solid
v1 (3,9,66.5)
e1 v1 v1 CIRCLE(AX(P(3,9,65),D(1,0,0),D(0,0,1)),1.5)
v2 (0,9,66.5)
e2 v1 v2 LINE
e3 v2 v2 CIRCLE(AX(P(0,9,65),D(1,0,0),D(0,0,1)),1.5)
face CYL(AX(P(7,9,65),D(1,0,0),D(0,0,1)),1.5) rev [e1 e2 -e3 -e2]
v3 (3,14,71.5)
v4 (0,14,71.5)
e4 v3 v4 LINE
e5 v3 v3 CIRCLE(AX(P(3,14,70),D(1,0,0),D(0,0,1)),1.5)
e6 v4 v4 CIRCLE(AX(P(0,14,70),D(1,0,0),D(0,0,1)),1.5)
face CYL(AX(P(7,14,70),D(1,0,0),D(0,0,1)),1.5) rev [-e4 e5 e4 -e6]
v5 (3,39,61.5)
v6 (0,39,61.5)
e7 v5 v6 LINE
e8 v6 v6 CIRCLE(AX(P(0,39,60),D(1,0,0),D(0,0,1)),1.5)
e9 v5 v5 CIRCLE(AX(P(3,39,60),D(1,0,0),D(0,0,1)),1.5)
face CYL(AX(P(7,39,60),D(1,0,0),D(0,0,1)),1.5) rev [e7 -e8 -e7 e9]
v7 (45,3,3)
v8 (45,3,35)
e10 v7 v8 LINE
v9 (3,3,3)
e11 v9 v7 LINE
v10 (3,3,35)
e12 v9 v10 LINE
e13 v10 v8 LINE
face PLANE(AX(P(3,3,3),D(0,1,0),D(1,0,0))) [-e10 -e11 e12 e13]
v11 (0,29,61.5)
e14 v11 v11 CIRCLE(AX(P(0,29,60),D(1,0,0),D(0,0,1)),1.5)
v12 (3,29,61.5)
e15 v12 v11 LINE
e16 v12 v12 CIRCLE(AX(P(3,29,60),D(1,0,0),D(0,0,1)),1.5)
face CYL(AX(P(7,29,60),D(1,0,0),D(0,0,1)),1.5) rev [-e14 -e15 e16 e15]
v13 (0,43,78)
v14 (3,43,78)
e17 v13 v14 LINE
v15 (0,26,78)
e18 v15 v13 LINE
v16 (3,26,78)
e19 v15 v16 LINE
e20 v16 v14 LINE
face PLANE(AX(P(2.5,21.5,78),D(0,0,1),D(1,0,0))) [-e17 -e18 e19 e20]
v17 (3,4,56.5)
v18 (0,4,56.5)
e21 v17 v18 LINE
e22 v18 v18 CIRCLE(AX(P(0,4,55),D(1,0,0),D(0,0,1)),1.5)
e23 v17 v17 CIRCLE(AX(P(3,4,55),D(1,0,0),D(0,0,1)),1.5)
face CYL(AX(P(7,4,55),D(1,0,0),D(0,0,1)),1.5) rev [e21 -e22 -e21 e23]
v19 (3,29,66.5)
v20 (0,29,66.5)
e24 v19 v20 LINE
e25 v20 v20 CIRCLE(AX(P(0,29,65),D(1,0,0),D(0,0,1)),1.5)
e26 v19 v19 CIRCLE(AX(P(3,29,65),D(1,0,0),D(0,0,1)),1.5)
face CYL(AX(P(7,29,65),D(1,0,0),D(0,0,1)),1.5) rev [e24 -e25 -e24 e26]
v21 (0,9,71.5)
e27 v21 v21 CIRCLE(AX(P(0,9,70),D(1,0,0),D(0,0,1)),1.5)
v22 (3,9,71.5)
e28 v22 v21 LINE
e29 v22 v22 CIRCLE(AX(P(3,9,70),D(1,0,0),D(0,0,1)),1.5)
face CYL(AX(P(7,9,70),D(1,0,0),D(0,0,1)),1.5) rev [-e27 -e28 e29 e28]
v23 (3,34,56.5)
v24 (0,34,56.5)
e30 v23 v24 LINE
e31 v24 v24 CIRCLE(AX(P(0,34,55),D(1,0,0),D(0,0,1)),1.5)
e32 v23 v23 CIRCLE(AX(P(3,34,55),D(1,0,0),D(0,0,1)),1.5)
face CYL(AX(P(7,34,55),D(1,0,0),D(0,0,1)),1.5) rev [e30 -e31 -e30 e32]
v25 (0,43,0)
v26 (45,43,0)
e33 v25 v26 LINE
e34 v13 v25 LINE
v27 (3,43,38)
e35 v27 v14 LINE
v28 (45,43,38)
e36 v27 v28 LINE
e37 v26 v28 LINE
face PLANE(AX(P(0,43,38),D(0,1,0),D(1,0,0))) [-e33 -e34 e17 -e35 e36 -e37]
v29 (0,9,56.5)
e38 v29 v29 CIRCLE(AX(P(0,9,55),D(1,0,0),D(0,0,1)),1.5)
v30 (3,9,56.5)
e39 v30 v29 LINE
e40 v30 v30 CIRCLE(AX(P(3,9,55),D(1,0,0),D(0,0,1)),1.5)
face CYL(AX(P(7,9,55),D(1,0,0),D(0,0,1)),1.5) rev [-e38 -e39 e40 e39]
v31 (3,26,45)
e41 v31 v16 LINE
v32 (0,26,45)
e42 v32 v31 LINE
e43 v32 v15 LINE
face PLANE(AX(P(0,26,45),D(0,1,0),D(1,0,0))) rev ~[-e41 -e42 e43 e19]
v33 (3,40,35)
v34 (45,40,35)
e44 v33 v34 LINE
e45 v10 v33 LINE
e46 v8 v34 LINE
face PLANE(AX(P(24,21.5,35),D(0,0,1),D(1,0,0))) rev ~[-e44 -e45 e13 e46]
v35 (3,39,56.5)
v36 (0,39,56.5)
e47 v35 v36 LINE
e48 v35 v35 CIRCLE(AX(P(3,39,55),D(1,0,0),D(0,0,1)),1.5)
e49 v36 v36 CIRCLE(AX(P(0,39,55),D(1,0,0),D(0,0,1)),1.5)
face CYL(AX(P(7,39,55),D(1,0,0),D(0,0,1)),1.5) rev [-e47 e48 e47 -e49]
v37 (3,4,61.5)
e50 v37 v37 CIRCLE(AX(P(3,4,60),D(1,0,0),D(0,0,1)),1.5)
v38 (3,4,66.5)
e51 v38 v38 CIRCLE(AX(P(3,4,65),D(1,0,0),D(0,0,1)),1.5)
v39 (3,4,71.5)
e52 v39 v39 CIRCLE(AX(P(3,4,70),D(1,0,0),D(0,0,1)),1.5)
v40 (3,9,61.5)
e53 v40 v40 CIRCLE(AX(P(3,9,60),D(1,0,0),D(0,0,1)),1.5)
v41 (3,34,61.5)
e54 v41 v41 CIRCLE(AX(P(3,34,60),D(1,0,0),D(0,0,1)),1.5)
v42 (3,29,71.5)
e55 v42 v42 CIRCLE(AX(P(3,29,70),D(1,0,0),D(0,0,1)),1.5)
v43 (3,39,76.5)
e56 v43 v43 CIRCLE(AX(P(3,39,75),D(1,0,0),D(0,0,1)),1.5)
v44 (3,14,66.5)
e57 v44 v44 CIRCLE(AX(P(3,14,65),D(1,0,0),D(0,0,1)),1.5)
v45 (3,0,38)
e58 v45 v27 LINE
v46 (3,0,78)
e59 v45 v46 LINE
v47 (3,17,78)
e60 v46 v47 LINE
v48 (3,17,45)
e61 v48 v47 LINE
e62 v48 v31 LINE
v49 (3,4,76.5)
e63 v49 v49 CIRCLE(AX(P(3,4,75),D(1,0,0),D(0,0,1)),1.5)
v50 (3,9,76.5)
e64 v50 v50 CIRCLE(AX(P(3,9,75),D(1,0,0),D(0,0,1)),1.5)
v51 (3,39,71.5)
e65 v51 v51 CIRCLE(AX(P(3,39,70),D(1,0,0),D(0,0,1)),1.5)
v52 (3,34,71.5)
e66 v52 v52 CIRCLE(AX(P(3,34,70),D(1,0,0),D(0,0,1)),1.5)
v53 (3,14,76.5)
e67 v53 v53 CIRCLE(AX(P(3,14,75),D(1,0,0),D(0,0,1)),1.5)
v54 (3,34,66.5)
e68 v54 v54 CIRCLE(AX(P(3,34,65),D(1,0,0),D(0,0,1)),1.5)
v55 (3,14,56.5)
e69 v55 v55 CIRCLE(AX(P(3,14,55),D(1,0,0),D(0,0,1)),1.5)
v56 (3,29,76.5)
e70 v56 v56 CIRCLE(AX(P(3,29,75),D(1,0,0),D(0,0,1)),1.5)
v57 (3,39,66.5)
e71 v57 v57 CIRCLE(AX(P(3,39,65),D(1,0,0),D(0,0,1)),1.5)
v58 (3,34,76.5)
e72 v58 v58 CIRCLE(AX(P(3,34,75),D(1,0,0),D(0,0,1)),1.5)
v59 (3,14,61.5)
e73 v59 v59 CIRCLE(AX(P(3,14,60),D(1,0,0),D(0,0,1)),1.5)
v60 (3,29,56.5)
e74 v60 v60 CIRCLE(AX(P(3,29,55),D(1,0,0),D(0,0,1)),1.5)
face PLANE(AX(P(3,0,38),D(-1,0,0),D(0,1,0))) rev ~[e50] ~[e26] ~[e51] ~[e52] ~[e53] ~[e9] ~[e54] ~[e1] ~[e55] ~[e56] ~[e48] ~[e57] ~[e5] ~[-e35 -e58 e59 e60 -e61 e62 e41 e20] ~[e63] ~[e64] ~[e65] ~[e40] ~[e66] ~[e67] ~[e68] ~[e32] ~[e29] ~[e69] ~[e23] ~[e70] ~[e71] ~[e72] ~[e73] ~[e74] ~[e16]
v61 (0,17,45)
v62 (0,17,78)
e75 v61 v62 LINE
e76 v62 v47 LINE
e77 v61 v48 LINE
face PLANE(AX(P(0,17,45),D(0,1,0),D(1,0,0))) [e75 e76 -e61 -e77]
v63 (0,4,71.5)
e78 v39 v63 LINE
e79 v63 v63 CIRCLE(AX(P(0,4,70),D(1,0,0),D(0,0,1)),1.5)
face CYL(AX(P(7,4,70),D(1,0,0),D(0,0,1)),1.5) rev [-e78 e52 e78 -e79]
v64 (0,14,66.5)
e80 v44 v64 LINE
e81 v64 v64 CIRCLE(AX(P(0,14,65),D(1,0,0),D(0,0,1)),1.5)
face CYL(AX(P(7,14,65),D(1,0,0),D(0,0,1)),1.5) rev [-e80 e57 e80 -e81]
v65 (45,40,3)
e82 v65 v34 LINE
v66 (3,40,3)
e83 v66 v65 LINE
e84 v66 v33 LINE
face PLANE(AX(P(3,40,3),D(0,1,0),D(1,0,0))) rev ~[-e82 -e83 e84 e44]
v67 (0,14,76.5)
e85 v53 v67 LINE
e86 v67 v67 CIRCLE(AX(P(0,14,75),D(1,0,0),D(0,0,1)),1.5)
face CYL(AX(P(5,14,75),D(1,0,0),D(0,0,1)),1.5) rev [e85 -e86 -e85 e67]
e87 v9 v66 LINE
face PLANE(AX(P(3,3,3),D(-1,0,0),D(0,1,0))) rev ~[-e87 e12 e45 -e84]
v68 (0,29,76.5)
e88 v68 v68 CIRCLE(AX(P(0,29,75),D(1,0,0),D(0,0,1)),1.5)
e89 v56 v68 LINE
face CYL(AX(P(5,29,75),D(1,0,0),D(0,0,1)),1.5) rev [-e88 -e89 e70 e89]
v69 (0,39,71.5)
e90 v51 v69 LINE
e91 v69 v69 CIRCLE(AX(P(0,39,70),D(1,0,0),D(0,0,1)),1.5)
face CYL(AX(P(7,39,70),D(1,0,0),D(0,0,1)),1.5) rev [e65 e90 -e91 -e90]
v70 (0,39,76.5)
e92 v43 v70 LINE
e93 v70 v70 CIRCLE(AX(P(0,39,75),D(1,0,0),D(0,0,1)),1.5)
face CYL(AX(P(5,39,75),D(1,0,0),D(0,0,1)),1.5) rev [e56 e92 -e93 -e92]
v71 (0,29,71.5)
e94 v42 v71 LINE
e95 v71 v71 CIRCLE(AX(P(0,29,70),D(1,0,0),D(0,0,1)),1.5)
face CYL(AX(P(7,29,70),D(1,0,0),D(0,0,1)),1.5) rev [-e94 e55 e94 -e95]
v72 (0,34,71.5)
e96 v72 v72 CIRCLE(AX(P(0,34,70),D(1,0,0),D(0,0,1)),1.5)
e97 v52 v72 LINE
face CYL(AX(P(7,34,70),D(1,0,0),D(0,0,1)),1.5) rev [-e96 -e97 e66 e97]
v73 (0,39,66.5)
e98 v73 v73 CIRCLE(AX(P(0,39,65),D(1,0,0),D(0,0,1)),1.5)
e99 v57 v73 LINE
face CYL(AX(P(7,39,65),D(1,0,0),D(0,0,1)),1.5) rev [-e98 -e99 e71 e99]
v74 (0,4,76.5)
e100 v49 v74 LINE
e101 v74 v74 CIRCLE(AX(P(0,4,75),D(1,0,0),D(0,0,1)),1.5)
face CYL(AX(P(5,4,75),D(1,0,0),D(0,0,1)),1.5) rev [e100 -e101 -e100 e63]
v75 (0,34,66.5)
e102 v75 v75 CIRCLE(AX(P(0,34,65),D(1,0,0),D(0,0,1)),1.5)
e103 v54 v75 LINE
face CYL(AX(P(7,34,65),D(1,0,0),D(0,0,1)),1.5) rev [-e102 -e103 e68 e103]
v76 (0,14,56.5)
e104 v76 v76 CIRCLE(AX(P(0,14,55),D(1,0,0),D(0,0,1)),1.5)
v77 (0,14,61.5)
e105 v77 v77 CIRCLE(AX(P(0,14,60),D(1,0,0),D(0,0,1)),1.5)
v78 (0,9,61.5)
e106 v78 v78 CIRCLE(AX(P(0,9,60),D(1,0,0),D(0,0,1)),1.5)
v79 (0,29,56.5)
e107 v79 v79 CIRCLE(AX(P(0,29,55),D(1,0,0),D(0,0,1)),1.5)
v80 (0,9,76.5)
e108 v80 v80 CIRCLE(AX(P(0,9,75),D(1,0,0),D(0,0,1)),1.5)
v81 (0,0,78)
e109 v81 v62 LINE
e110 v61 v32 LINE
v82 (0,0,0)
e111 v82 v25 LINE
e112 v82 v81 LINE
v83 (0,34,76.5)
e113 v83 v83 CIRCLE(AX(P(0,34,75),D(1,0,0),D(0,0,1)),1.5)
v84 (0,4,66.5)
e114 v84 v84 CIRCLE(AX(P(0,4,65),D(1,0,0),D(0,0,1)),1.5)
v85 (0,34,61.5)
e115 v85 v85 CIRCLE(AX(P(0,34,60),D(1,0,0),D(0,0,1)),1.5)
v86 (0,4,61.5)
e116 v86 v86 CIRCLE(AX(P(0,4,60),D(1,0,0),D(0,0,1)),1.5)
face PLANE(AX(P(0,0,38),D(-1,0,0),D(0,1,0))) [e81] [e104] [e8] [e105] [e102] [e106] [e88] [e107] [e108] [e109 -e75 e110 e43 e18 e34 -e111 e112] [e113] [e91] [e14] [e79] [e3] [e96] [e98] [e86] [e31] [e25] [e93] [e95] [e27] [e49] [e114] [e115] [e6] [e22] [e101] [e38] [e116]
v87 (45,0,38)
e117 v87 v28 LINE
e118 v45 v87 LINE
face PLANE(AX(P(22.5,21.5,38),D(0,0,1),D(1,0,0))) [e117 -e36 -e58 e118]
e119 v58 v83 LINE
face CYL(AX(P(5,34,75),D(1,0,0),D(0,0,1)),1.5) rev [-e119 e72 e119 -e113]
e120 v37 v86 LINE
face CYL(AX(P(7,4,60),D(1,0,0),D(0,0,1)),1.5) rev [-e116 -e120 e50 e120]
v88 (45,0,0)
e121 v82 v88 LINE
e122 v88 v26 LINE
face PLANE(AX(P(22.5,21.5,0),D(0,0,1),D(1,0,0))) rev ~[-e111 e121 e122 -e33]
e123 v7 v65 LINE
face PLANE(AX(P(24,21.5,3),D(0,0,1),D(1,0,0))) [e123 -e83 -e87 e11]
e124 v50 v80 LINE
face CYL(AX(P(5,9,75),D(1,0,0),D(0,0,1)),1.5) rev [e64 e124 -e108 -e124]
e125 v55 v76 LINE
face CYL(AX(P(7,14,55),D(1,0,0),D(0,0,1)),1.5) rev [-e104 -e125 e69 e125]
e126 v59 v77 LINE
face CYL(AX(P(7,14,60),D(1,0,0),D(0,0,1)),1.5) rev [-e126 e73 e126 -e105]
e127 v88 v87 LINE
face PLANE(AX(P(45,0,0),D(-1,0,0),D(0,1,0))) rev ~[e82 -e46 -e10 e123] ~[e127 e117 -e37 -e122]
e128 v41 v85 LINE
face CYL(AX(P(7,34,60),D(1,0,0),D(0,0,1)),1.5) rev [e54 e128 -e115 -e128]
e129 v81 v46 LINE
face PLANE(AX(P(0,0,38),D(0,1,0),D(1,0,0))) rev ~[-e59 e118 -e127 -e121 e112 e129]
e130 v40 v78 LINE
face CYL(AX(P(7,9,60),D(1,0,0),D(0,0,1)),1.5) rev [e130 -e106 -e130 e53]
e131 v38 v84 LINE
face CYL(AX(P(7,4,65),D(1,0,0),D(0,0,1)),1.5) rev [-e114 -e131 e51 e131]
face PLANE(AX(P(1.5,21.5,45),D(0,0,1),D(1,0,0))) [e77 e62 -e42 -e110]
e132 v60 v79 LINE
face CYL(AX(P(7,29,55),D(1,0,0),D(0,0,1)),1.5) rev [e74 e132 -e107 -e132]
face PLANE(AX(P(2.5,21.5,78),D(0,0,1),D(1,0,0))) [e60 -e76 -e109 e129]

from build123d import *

# Parameters (mm, degrees)
BOX004_W                = 3
BOX004_H                = 9
BOX004_DEPTH            = 33
CYLINDER034_R           = 1.5
CYLINDER034_DEPTH       = 10
CYLINDER034_PITCH_ANGLE = -90
CYLINDER035_R           = 1.5
CYLINDER035_DEPTH       = 10
CYLINDER035_PITCH_ANGLE = -90
CYLINDER036_R           = 1.5
CYLINDER036_DEPTH       = 10
CYLINDER036_PITCH_ANGLE = -90
CYLINDER037_R           = 1.5
CYLINDER037_DEPTH       = 10
CYLINDER037_PITCH_ANGLE = -90
CYLINDER038_R           = 1.5
CYLINDER038_DEPTH       = 10
CYLINDER038_PITCH_ANGLE = -90
CYLINDER039_R           = 1.5
CYLINDER039_DEPTH       = 10
CYLINDER039_PITCH_ANGLE = -90
CYLINDER040_R           = 1.5
CYLINDER040_DEPTH       = 10
CYLINDER040_PITCH_ANGLE = -90
CYLINDER033_R           = 1.5
CYLINDER033_DEPTH       = 10
CYLINDER033_PITCH_ANGLE = -90
BOX003_W                = 2
BOX003_H                = 43
BOX003_DEPTH            = 40
CYLINDER031_R           = 1.5
CYLINDER031_DEPTH       = 10
CYLINDER031_PITCH_ANGLE = -90
CYLINDER032_R           = 1.5
CYLINDER032_DEPTH       = 10
CYLINDER032_PITCH_ANGLE = -90
CYLINDER001_R           = 1.5
CYLINDER001_DEPTH       = 10
CYLINDER001_PITCH_ANGLE = -90
CYLINDER002_R           = 1.5
CYLINDER002_DEPTH       = 10
CYLINDER002_PITCH_ANGLE = -90
CYLINDER003_R           = 1.5
CYLINDER003_DEPTH       = 10
CYLINDER003_PITCH_ANGLE = -90
CYLINDER004_R           = 1.5
CYLINDER004_DEPTH       = 10
CYLINDER004_PITCH_ANGLE = -90
CYLINDER005_R           = 1.5
CYLINDER005_DEPTH       = 10
CYLINDER005_PITCH_ANGLE = -90
CYLINDER006_R           = 1.5
CYLINDER006_DEPTH       = 10
CYLINDER006_PITCH_ANGLE = -90
CYLINDER007_R           = 1.5
CYLINDER007_DEPTH       = 10
CYLINDER007_PITCH_ANGLE = -90
CYLINDER008_R           = 1.5
CYLINDER008_DEPTH       = 10
CYLINDER008_PITCH_ANGLE = -90
CYLINDER009_R           = 1.5
CYLINDER009_DEPTH       = 10
CYLINDER009_PITCH_ANGLE = -90
CYLINDER010_R           = 1.5
CYLINDER010_DEPTH       = 10
CYLINDER010_PITCH_ANGLE = -90
CYLINDER011_R           = 1.5
CYLINDER011_DEPTH       = 10
CYLINDER011_PITCH_ANGLE = -90
CYLINDER012_R           = 1.5
CYLINDER012_DEPTH       = 10
CYLINDER012_PITCH_ANGLE = -90
CYLINDER013_R           = 1.5
CYLINDER013_DEPTH       = 10
CYLINDER013_PITCH_ANGLE = -90
CYLINDER017_R           = 1.5
CYLINDER017_DEPTH       = 10
CYLINDER017_PITCH_ANGLE = -90
CYLINDER018_R           = 1.5
CYLINDER018_DEPTH       = 10
CYLINDER018_PITCH_ANGLE = -90
CYLINDER019_R           = 1.5
CYLINDER019_DEPTH       = 10
CYLINDER019_PITCH_ANGLE = -90
CYLINDER020_R           = 1.5
CYLINDER020_DEPTH       = 10
CYLINDER020_PITCH_ANGLE = -90
CYLINDER021_R           = 1.5
CYLINDER021_DEPTH       = 10
CYLINDER021_PITCH_ANGLE = -90
CYLINDER022_R           = 1.5
CYLINDER022_DEPTH       = 10
CYLINDER022_PITCH_ANGLE = -90
CYLINDER023_R           = 1.5
CYLINDER023_DEPTH       = 10
CYLINDER023_PITCH_ANGLE = -90
CYLINDER024_R           = 1.5
CYLINDER024_DEPTH       = 10
CYLINDER024_PITCH_ANGLE = -90
CYLINDER025_R           = 1.5
CYLINDER025_DEPTH       = 10
CYLINDER025_PITCH_ANGLE = -90
CYLINDER026_R           = 1.5
CYLINDER026_DEPTH       = 10
CYLINDER026_PITCH_ANGLE = -90
CYLINDER027_R           = 1.5
CYLINDER027_DEPTH       = 10
CYLINDER027_PITCH_ANGLE = -90
CYLINDER028_R           = 1.5
CYLINDER028_DEPTH       = 10
CYLINDER028_PITCH_ANGLE = -90
CYLINDER029_R           = 1.5
CYLINDER029_DEPTH       = 10
CYLINDER029_PITCH_ANGLE = -90
CYLINDER030_R           = 1.5
CYLINDER030_DEPTH       = 10
CYLINDER030_PITCH_ANGLE = -90
CYLINDER014_R           = 1.5
CYLINDER014_DEPTH       = 10
CYLINDER014_PITCH_ANGLE = -90
CYLINDER015_R           = 1.5
CYLINDER015_DEPTH       = 10
CYLINDER015_PITCH_ANGLE = -90
CYLINDER016_R           = 1.5
CYLINDER016_DEPTH       = 10
CYLINDER016_PITCH_ANGLE = -90
CYLINDER_R              = 1.5
CYLINDER_DEPTH          = 10
CYLINDER_PITCH_ANGLE    = -90
BOX002_W                = 5
BOX002_H                = 43
BOX002_DEPTH            = 40
BOX_W                   = 42
BOX_H                   = 37
BOX_DEPTH               = 32
BOX001_W                = 45
BOX001_H                = 43
BOX001_DEPTH            = 38


with BuildPart() as cube004:
    # Box004 → Box004 (new body)
    with BuildSketch(Plane(origin=(0, 17, 45), x_dir=(1, 0, 0), z_dir=(0, 0, 1))):
        with Locations((1.5, 4.5)):
            Rectangle(BOX004_W, BOX004_H)
    extrude(amount=BOX004_DEPTH)


with BuildPart() as cylinder034:
    # Cylinder034 → Cylinder034 (new body)
    with BuildSketch(Plane.XY):
        Circle(CYLINDER034_R)
    extrude(amount=CYLINDER034_DEPTH)


with BuildPart() as cylinder034_1:
    # Cylinder034 pitch: moved
    add(cylinder034.part.rotate(Axis((0, 0, 0), (0, 1, 0)), CYLINDER034_PITCH_ANGLE))


with BuildPart() as cylinder034_2:
    # Cylinder034 placement: moved
    add(cylinder034_1.part.moved(Location((5, 9, 75))))


with BuildPart() as cylinder035:
    # Cylinder035 → Cylinder035 (new body)
    with BuildSketch(Plane.XY):
        Circle(CYLINDER035_R)
    extrude(amount=CYLINDER035_DEPTH)


with BuildPart() as cylinder035_1:
    # Cylinder035 pitch: moved
    add(cylinder035.part.rotate(Axis((0, 0, 0), (0, 1, 0)), CYLINDER035_PITCH_ANGLE))


with BuildPart() as cylinder035_2:
    # Cylinder035 placement: moved
    add(cylinder035_1.part.moved(Location((5, 14, 75))))


with BuildPart() as cylinder036:
    # Cylinder036 → Cylinder036 (new body)
    with BuildSketch(Plane.XY):
        Circle(CYLINDER036_R)
    extrude(amount=CYLINDER036_DEPTH)


with BuildPart() as cylinder036_1:
    # Cylinder036 pitch: moved
    add(cylinder036.part.rotate(Axis((0, 0, 0), (0, 1, 0)), CYLINDER036_PITCH_ANGLE))


with BuildPart() as cylinder036_2:
    # Cylinder036 placement: moved
    add(cylinder036_1.part.moved(Location((5, 19, 75))))


with BuildPart() as cylinder037:
    # Cylinder037 → Cylinder037 (new body)
    with BuildSketch(Plane.XY):
        Circle(CYLINDER037_R)
    extrude(amount=CYLINDER037_DEPTH)


with BuildPart() as cylinder037_1:
    # Cylinder037 pitch: moved
    add(cylinder037.part.rotate(Axis((0, 0, 0), (0, 1, 0)), CYLINDER037_PITCH_ANGLE))


with BuildPart() as cylinder037_2:
    # Cylinder037 placement: moved
    add(cylinder037_1.part.moved(Location((5, 24, 75))))


with BuildPart() as cylinder038:
    # Cylinder038 → Cylinder038 (new body)
    with BuildSketch(Plane.XY):
        Circle(CYLINDER038_R)
    extrude(amount=CYLINDER038_DEPTH)


with BuildPart() as cylinder038_1:
    # Cylinder038 pitch: moved
    add(cylinder038.part.rotate(Axis((0, 0, 0), (0, 1, 0)), CYLINDER038_PITCH_ANGLE))


with BuildPart() as cylinder038_2:
    # Cylinder038 placement: moved
    add(cylinder038_1.part.moved(Location((5, 29, 75))))


with BuildPart() as cylinder039:
    # Cylinder039 → Cylinder039 (new body)
    with BuildSketch(Plane.XY):
        Circle(CYLINDER039_R)
    extrude(amount=CYLINDER039_DEPTH)


with BuildPart() as cylinder039_1:
    # Cylinder039 pitch: moved
    add(cylinder039.part.rotate(Axis((0, 0, 0), (0, 1, 0)), CYLINDER039_PITCH_ANGLE))


with BuildPart() as cylinder039_2:
    # Cylinder039 placement: moved
    add(cylinder039_1.part.moved(Location((5, 34, 75))))


with BuildPart() as cylinder040:
    # Cylinder040 → Cylinder040 (new body)
    with BuildSketch(Plane.XY):
        Circle(CYLINDER040_R)
    extrude(amount=CYLINDER040_DEPTH)


with BuildPart() as cylinder040_1:
    # Cylinder040 pitch: moved
    add(cylinder040.part.rotate(Axis((0, 0, 0), (0, 1, 0)), CYLINDER040_PITCH_ANGLE))


with BuildPart() as cylinder040_2:
    # Cylinder040 placement: moved
    add(cylinder040_1.part.moved(Location((5, 39, 75))))


with BuildPart() as cylinder033:
    # Cylinder033 → Cylinder033 (new body)
    with BuildSketch(Plane.XY):
        Circle(CYLINDER033_R)
    extrude(amount=CYLINDER033_DEPTH)


with BuildPart() as cylinder033_1:
    # Cylinder033 pitch: moved
    add(cylinder033.part.rotate(Axis((0, 0, 0), (0, 1, 0)), CYLINDER033_PITCH_ANGLE))


with BuildPart() as cylinder033_2:
    # Cylinder033 placement: moved
    add(cylinder033_1.part.moved(Location((5, 4, 75))))


with BuildPart() as cube003:
    # Box003 → Box003 (new body)
    with BuildSketch(Plane(origin=(3, 0, 38), x_dir=(1, 0, 0), z_dir=(0, 0, 1))):
        with Locations((1, 21.5)):
            Rectangle(BOX003_W, BOX003_H)
    extrude(amount=BOX003_DEPTH)


with BuildPart() as cylinder031:
    # Cylinder031 → Cylinder031 (new body)
    with BuildSketch(Plane.XY):
        Circle(CYLINDER031_R)
    extrude(amount=CYLINDER031_DEPTH)


with BuildPart() as cylinder031_1:
    # Cylinder031 pitch: moved
    add(cylinder031.part.rotate(Axis((0, 0, 0), (0, 1, 0)), CYLINDER031_PITCH_ANGLE))


with BuildPart() as cylinder031_2:
    # Cylinder031 placement: moved
    add(cylinder031_1.part.moved(Location((7, 14, 70))))


with BuildPart() as cylinder032:
    # Cylinder032 → Cylinder032 (new body)
    with BuildSketch(Plane.XY):
        Circle(CYLINDER032_R)
    extrude(amount=CYLINDER032_DEPTH)


with BuildPart() as cylinder032_1:
    # Cylinder032 pitch: moved
    add(cylinder032.part.rotate(Axis((0, 0, 0), (0, 1, 0)), CYLINDER032_PITCH_ANGLE))


with BuildPart() as cylinder032_2:
    # Cylinder032 placement: moved
    add(cylinder032_1.part.moved(Location((7, 9, 55))))


with BuildPart() as cylinder001:
    # Cylinder001 → Cylinder001 (new body)
    with BuildSketch(Plane.XY):
        Circle(CYLINDER001_R)
    extrude(amount=CYLINDER001_DEPTH)


with BuildPart() as cylinder001_1:
    # Cylinder001 pitch: moved
    add(cylinder001.part.rotate(Axis((0, 0, 0), (0, 1, 0)), CYLINDER001_PITCH_ANGLE))


with BuildPart() as cylinder001_2:
    # Cylinder001 placement: moved
    add(cylinder001_1.part.moved(Location((7, 9, 60))))


with BuildPart() as cylinder002:
    # Cylinder002 → Cylinder002 (new body)
    with BuildSketch(Plane.XY):
        Circle(CYLINDER002_R)
    extrude(amount=CYLINDER002_DEPTH)


with BuildPart() as cylinder002_1:
    # Cylinder002 pitch: moved
    add(cylinder002.part.rotate(Axis((0, 0, 0), (0, 1, 0)), CYLINDER002_PITCH_ANGLE))


with BuildPart() as cylinder002_2:
    # Cylinder002 placement: moved
    add(cylinder002_1.part.moved(Location((7, 19, 70))))


with BuildPart() as cylinder003:
    # Cylinder003 → Cylinder003 (new body)
    with BuildSketch(Plane.XY):
        Circle(CYLINDER003_R)
    extrude(amount=CYLINDER003_DEPTH)


with BuildPart() as cylinder003_1:
    # Cylinder003 pitch: moved
    add(cylinder003.part.rotate(Axis((0, 0, 0), (0, 1, 0)), CYLINDER003_PITCH_ANGLE))


with BuildPart() as cylinder003_2:
    # Cylinder003 placement: moved
    add(cylinder003_1.part.moved(Location((7, 24, 70))))


with BuildPart() as cylinder004:
    # Cylinder004 → Cylinder004 (new body)
    with BuildSketch(Plane.XY):
        Circle(CYLINDER004_R)
    extrude(amount=CYLINDER004_DEPTH)


with BuildPart() as cylinder004_1:
    # Cylinder004 pitch: moved
    add(cylinder004.part.rotate(Axis((0, 0, 0), (0, 1, 0)), CYLINDER004_PITCH_ANGLE))


with BuildPart() as cylinder004_2:
    # Cylinder004 placement: moved
    add(cylinder004_1.part.moved(Location((7, 4, 70))))


with BuildPart() as cylinder005:
    # Cylinder005 → Cylinder005 (new body)
    with BuildSketch(Plane.XY):
        Circle(CYLINDER005_R)
    extrude(amount=CYLINDER005_DEPTH)


with BuildPart() as cylinder005_1:
    # Cylinder005 pitch: moved
    add(cylinder005.part.rotate(Axis((0, 0, 0), (0, 1, 0)), CYLINDER005_PITCH_ANGLE))


with BuildPart() as cylinder005_2:
    # Cylinder005 placement: moved
    add(cylinder005_1.part.moved(Location((7, 29, 70))))


with BuildPart() as cylinder006:
    # Cylinder006 → Cylinder006 (new body)
    with BuildSketch(Plane.XY):
        Circle(CYLINDER006_R)
    extrude(amount=CYLINDER006_DEPTH)


with BuildPart() as cylinder006_1:
    # Cylinder006 pitch: moved
    add(cylinder006.part.rotate(Axis((0, 0, 0), (0, 1, 0)), CYLINDER006_PITCH_ANGLE))


with BuildPart() as cylinder006_2:
    # Cylinder006 placement: moved
    add(cylinder006_1.part.moved(Location((7, 34, 70))))


with BuildPart() as cylinder007:
    # Cylinder007 → Cylinder007 (new body)
    with BuildSketch(Plane.XY):
        Circle(CYLINDER007_R)
    extrude(amount=CYLINDER007_DEPTH)


with BuildPart() as cylinder007_1:
    # Cylinder007 pitch: moved
    add(cylinder007.part.rotate(Axis((0, 0, 0), (0, 1, 0)), CYLINDER007_PITCH_ANGLE))


with BuildPart() as cylinder007_2:
    # Cylinder007 placement: moved
    add(cylinder007_1.part.moved(Location((7, 39, 70))))


with BuildPart() as cylinder008:
    # Cylinder008 → Cylinder008 (new body)
    with BuildSketch(Plane.XY):
        Circle(CYLINDER008_R)
    extrude(amount=CYLINDER008_DEPTH)


with BuildPart() as cylinder008_1:
    # Cylinder008 pitch: moved
    add(cylinder008.part.rotate(Axis((0, 0, 0), (0, 1, 0)), CYLINDER008_PITCH_ANGLE))


with BuildPart() as cylinder008_2:
    # Cylinder008 placement: moved
    add(cylinder008_1.part.moved(Location((7, 4, 65))))


with BuildPart() as cylinder009:
    # Cylinder009 → Cylinder009 (new body)
    with BuildSketch(Plane.XY):
        Circle(CYLINDER009_R)
    extrude(amount=CYLINDER009_DEPTH)


with BuildPart() as cylinder009_1:
    # Cylinder009 pitch: moved
    add(cylinder009.part.rotate(Axis((0, 0, 0), (0, 1, 0)), CYLINDER009_PITCH_ANGLE))


with BuildPart() as cylinder009_2:
    # Cylinder009 placement: moved
    add(cylinder009_1.part.moved(Location((7, 14, 65))))


with BuildPart() as cylinder010:
    # Cylinder010 → Cylinder010 (new body)
    with BuildSketch(Plane.XY):
        Circle(CYLINDER010_R)
    extrude(amount=CYLINDER010_DEPTH)


with BuildPart() as cylinder010_1:
    # Cylinder010 pitch: moved
    add(cylinder010.part.rotate(Axis((0, 0, 0), (0, 1, 0)), CYLINDER010_PITCH_ANGLE))


with BuildPart() as cylinder010_2:
    # Cylinder010 placement: moved
    add(cylinder010_1.part.moved(Location((7, 19, 65))))


with BuildPart() as cylinder011:
    # Cylinder011 → Cylinder011 (new body)
    with BuildSketch(Plane.XY):
        Circle(CYLINDER011_R)
    extrude(amount=CYLINDER011_DEPTH)


with BuildPart() as cylinder011_1:
    # Cylinder011 pitch: moved
    add(cylinder011.part.rotate(Axis((0, 0, 0), (0, 1, 0)), CYLINDER011_PITCH_ANGLE))


with BuildPart() as cylinder011_2:
    # Cylinder011 placement: moved
    add(cylinder011_1.part.moved(Location((7, 24, 65))))


with BuildPart() as cylinder012:
    # Cylinder012 → Cylinder012 (new body)
    with BuildSketch(Plane.XY):
        Circle(CYLINDER012_R)
    extrude(amount=CYLINDER012_DEPTH)


with BuildPart() as cylinder012_1:
    # Cylinder012 pitch: moved
    add(cylinder012.part.rotate(Axis((0, 0, 0), (0, 1, 0)), CYLINDER012_PITCH_ANGLE))


with BuildPart() as cylinder012_2:
    # Cylinder012 placement: moved
    add(cylinder012_1.part.moved(Location((7, 4, 65))))


with BuildPart() as cylinder013:
    # Cylinder013 → Cylinder013 (new body)
    with BuildSketch(Plane.XY):
        Circle(CYLINDER013_R)
    extrude(amount=CYLINDER013_DEPTH)


with BuildPart() as cylinder013_1:
    # Cylinder013 pitch: moved
    add(cylinder013.part.rotate(Axis((0, 0, 0), (0, 1, 0)), CYLINDER013_PITCH_ANGLE))


with BuildPart() as cylinder013_2:
    # Cylinder013 placement: moved
    add(cylinder013_1.part.moved(Location((7, 29, 65))))


with BuildPart() as cylinder017:
    # Cylinder017 → Cylinder017 (new body)
    with BuildSketch(Plane.XY):
        Circle(CYLINDER017_R)
    extrude(amount=CYLINDER017_DEPTH)


with BuildPart() as cylinder017_1:
    # Cylinder017 pitch: moved
    add(cylinder017.part.rotate(Axis((0, 0, 0), (0, 1, 0)), CYLINDER017_PITCH_ANGLE))


with BuildPart() as cylinder017_2:
    # Cylinder017 placement: moved
    add(cylinder017_1.part.moved(Location((7, 14, 60))))


with BuildPart() as cylinder018:
    # Cylinder018 → Cylinder018 (new body)
    with BuildSketch(Plane.XY):
        Circle(CYLINDER018_R)
    extrude(amount=CYLINDER018_DEPTH)


with BuildPart() as cylinder018_1:
    # Cylinder018 pitch: moved
    add(cylinder018.part.rotate(Axis((0, 0, 0), (0, 1, 0)), CYLINDER018_PITCH_ANGLE))


with BuildPart() as cylinder018_2:
    # Cylinder018 placement: moved
    add(cylinder018_1.part.moved(Location((7, 19, 60))))


with BuildPart() as cylinder019:
    # Cylinder019 → Cylinder019 (new body)
    with BuildSketch(Plane.XY):
        Circle(CYLINDER019_R)
    extrude(amount=CYLINDER019_DEPTH)


with BuildPart() as cylinder019_1:
    # Cylinder019 pitch: moved
    add(cylinder019.part.rotate(Axis((0, 0, 0), (0, 1, 0)), CYLINDER019_PITCH_ANGLE))


with BuildPart() as cylinder019_2:
    # Cylinder019 placement: moved
    add(cylinder019_1.part.moved(Location((7, 24, 60))))


with BuildPart() as cylinder020:
    # Cylinder020 → Cylinder020 (new body)
    with BuildSketch(Plane.XY):
        Circle(CYLINDER020_R)
    extrude(amount=CYLINDER020_DEPTH)


with BuildPart() as cylinder020_1:
    # Cylinder020 pitch: moved
    add(cylinder020.part.rotate(Axis((0, 0, 0), (0, 1, 0)), CYLINDER020_PITCH_ANGLE))


with BuildPart() as cylinder020_2:
    # Cylinder020 placement: moved
    add(cylinder020_1.part.moved(Location((7, 4, 60))))


with BuildPart() as cylinder021:
    # Cylinder021 → Cylinder021 (new body)
    with BuildSketch(Plane.XY):
        Circle(CYLINDER021_R)
    extrude(amount=CYLINDER021_DEPTH)


with BuildPart() as cylinder021_1:
    # Cylinder021 pitch: moved
    add(cylinder021.part.rotate(Axis((0, 0, 0), (0, 1, 0)), CYLINDER021_PITCH_ANGLE))


with BuildPart() as cylinder021_2:
    # Cylinder021 placement: moved
    add(cylinder021_1.part.moved(Location((7, 29, 60))))


with BuildPart() as cylinder022:
    # Cylinder022 → Cylinder022 (new body)
    with BuildSketch(Plane.XY):
        Circle(CYLINDER022_R)
    extrude(amount=CYLINDER022_DEPTH)


with BuildPart() as cylinder022_1:
    # Cylinder022 pitch: moved
    add(cylinder022.part.rotate(Axis((0, 0, 0), (0, 1, 0)), CYLINDER022_PITCH_ANGLE))


with BuildPart() as cylinder022_2:
    # Cylinder022 placement: moved
    add(cylinder022_1.part.moved(Location((7, 34, 60))))


with BuildPart() as cylinder023:
    # Cylinder023 → Cylinder023 (new body)
    with BuildSketch(Plane.XY):
        Circle(CYLINDER023_R)
    extrude(amount=CYLINDER023_DEPTH)


with BuildPart() as cylinder023_1:
    # Cylinder023 pitch: moved
    add(cylinder023.part.rotate(Axis((0, 0, 0), (0, 1, 0)), CYLINDER023_PITCH_ANGLE))


with BuildPart() as cylinder023_2:
    # Cylinder023 placement: moved
    add(cylinder023_1.part.moved(Location((7, 39, 60))))


with BuildPart() as cylinder024:
    # Cylinder024 → Cylinder024 (new body)
    with BuildSketch(Plane.XY):
        Circle(CYLINDER024_R)
    extrude(amount=CYLINDER024_DEPTH)


with BuildPart() as cylinder024_1:
    # Cylinder024 pitch: moved
    add(cylinder024.part.rotate(Axis((0, 0, 0), (0, 1, 0)), CYLINDER024_PITCH_ANGLE))


with BuildPart() as cylinder024_2:
    # Cylinder024 placement: moved
    add(cylinder024_1.part.moved(Location((7, 14, 55))))


with BuildPart() as cylinder025:
    # Cylinder025 → Cylinder025 (new body)
    with BuildSketch(Plane.XY):
        Circle(CYLINDER025_R)
    extrude(amount=CYLINDER025_DEPTH)


with BuildPart() as cylinder025_1:
    # Cylinder025 pitch: moved
    add(cylinder025.part.rotate(Axis((0, 0, 0), (0, 1, 0)), CYLINDER025_PITCH_ANGLE))


with BuildPart() as cylinder025_2:
    # Cylinder025 placement: moved
    add(cylinder025_1.part.moved(Location((7, 19, 55))))


with BuildPart() as cylinder026:
    # Cylinder026 → Cylinder026 (new body)
    with BuildSketch(Plane.XY):
        Circle(CYLINDER026_R)
    extrude(amount=CYLINDER026_DEPTH)


with BuildPart() as cylinder026_1:
    # Cylinder026 pitch: moved
    add(cylinder026.part.rotate(Axis((0, 0, 0), (0, 1, 0)), CYLINDER026_PITCH_ANGLE))


with BuildPart() as cylinder026_2:
    # Cylinder026 placement: moved
    add(cylinder026_1.part.moved(Location((7, 24, 55))))


with BuildPart() as cylinder027:
    # Cylinder027 → Cylinder027 (new body)
    with BuildSketch(Plane.XY):
        Circle(CYLINDER027_R)
    extrude(amount=CYLINDER027_DEPTH)


with BuildPart() as cylinder027_1:
    # Cylinder027 pitch: moved
    add(cylinder027.part.rotate(Axis((0, 0, 0), (0, 1, 0)), CYLINDER027_PITCH_ANGLE))


with BuildPart() as cylinder027_2:
    # Cylinder027 placement: moved
    add(cylinder027_1.part.moved(Location((7, 4, 55))))


with BuildPart() as cylinder028:
    # Cylinder028 → Cylinder028 (new body)
    with BuildSketch(Plane.XY):
        Circle(CYLINDER028_R)
    extrude(amount=CYLINDER028_DEPTH)


with BuildPart() as cylinder028_1:
    # Cylinder028 pitch: moved
    add(cylinder028.part.rotate(Axis((0, 0, 0), (0, 1, 0)), CYLINDER028_PITCH_ANGLE))


with BuildPart() as cylinder028_2:
    # Cylinder028 placement: moved
    add(cylinder028_1.part.moved(Location((7, 29, 55))))


with BuildPart() as cylinder029:
    # Cylinder029 → Cylinder029 (new body)
    with BuildSketch(Plane.XY):
        Circle(CYLINDER029_R)
    extrude(amount=CYLINDER029_DEPTH)


with BuildPart() as cylinder029_1:
    # Cylinder029 pitch: moved
    add(cylinder029.part.rotate(Axis((0, 0, 0), (0, 1, 0)), CYLINDER029_PITCH_ANGLE))


with BuildPart() as cylinder029_2:
    # Cylinder029 placement: moved
    add(cylinder029_1.part.moved(Location((7, 34, 55))))


with BuildPart() as cylinder030:
    # Cylinder030 → Cylinder030 (new body)
    with BuildSketch(Plane.XY):
        Circle(CYLINDER030_R)
    extrude(amount=CYLINDER030_DEPTH)


with BuildPart() as cylinder030_1:
    # Cylinder030 pitch: moved
    add(cylinder030.part.rotate(Axis((0, 0, 0), (0, 1, 0)), CYLINDER030_PITCH_ANGLE))


with BuildPart() as cylinder030_2:
    # Cylinder030 placement: moved
    add(cylinder030_1.part.moved(Location((7, 39, 55))))


with BuildPart() as cylinder014:
    # Cylinder014 → Cylinder014 (new body)
    with BuildSketch(Plane.XY):
        Circle(CYLINDER014_R)
    extrude(amount=CYLINDER014_DEPTH)


with BuildPart() as cylinder014_1:
    # Cylinder014 pitch: moved
    add(cylinder014.part.rotate(Axis((0, 0, 0), (0, 1, 0)), CYLINDER014_PITCH_ANGLE))


with BuildPart() as cylinder014_2:
    # Cylinder014 placement: moved
    add(cylinder014_1.part.moved(Location((7, 34, 65))))


with BuildPart() as cylinder015:
    # Cylinder015 → Cylinder015 (new body)
    with BuildSketch(Plane.XY):
        Circle(CYLINDER015_R)
    extrude(amount=CYLINDER015_DEPTH)


with BuildPart() as cylinder015_1:
    # Cylinder015 pitch: moved
    add(cylinder015.part.rotate(Axis((0, 0, 0), (0, 1, 0)), CYLINDER015_PITCH_ANGLE))


with BuildPart() as cylinder015_2:
    # Cylinder015 placement: moved
    add(cylinder015_1.part.moved(Location((7, 39, 65))))


with BuildPart() as cylinder016:
    # Cylinder016 → Cylinder016 (new body)
    with BuildSketch(Plane.XY):
        Circle(CYLINDER016_R)
    extrude(amount=CYLINDER016_DEPTH)


with BuildPart() as cylinder016_1:
    # Cylinder016 pitch: moved
    add(cylinder016.part.rotate(Axis((0, 0, 0), (0, 1, 0)), CYLINDER016_PITCH_ANGLE))


with BuildPart() as cylinder016_2:
    # Cylinder016 placement: moved
    add(cylinder016_1.part.moved(Location((7, 9, 65))))


with BuildPart() as cylinder:
    # Cylinder → Cylinder (new body)
    with BuildSketch(Plane.XY):
        Circle(CYLINDER_R)
    extrude(amount=CYLINDER_DEPTH)


with BuildPart() as cylinder_1:
    # Cylinder pitch: moved
    add(cylinder.part.rotate(Axis((0, 0, 0), (0, 1, 0)), CYLINDER_PITCH_ANGLE))


with BuildPart() as cylinder_2:
    # Cylinder placement: moved
    add(cylinder_1.part.moved(Location((7, 9, 70))))


with BuildPart() as cut034:
    # Box002 → Box002 (new body)
    with BuildSketch(Plane.XY.offset(38)):
        with Locations((2.5, 21.5)):
            Rectangle(BOX002_W, BOX002_H)
    extrude(amount=BOX002_DEPTH)

    # Cut001: cut Cylinder
    add(cylinder_2.part, mode=Mode.SUBTRACT)

    # Cut002: cut Cylinder016
    add(cylinder016_2.part, mode=Mode.SUBTRACT)

    # Cut003: cut Cylinder015
    add(cylinder015_2.part, mode=Mode.SUBTRACT)

    # Cut004: cut Cylinder014
    add(cylinder014_2.part, mode=Mode.SUBTRACT)

    # Cut005: cut Cylinder030
    add(cylinder030_2.part, mode=Mode.SUBTRACT)

    # Cut006: cut Cylinder029
    add(cylinder029_2.part, mode=Mode.SUBTRACT)

    # Cut007: cut Cylinder028
    add(cylinder028_2.part, mode=Mode.SUBTRACT)

    # Cut008: cut Cylinder027
    add(cylinder027_2.part, mode=Mode.SUBTRACT)

    # Cut009: cut Cylinder026
    add(cylinder026_2.part, mode=Mode.SUBTRACT)

    # Cut010: cut Cylinder025
    add(cylinder025_2.part, mode=Mode.SUBTRACT)

    # Cut011: cut Cylinder024
    add(cylinder024_2.part, mode=Mode.SUBTRACT)

    # Cut012: cut Cylinder023
    add(cylinder023_2.part, mode=Mode.SUBTRACT)

    # Cut013: cut Cylinder022
    add(cylinder022_2.part, mode=Mode.SUBTRACT)

    # Cut014: cut Cylinder021
    add(cylinder021_2.part, mode=Mode.SUBTRACT)

    # Cut015: cut Cylinder020
    add(cylinder020_2.part, mode=Mode.SUBTRACT)

    # Cut016: cut Cylinder019
    add(cylinder019_2.part, mode=Mode.SUBTRACT)

    # Cut017: cut Cylinder018
    add(cylinder018_2.part, mode=Mode.SUBTRACT)

    # Cut018: cut Cylinder017
    add(cylinder017_2.part, mode=Mode.SUBTRACT)

    # Cut019: cut Cylinder013
    add(cylinder013_2.part, mode=Mode.SUBTRACT)

    # Cut020: cut Cylinder012
    add(cylinder012_2.part, mode=Mode.SUBTRACT)

    # Cut021: cut Cylinder011
    add(cylinder011_2.part, mode=Mode.SUBTRACT)

    # Cut022: cut Cylinder010
    add(cylinder010_2.part, mode=Mode.SUBTRACT)

    # Cut023: cut Cylinder009
    add(cylinder009_2.part, mode=Mode.SUBTRACT)

    # Cut024: cut Cylinder008
    add(cylinder008_2.part, mode=Mode.SUBTRACT)

    # Cut025: cut Cylinder007
    add(cylinder007_2.part, mode=Mode.SUBTRACT)

    # Cut026: cut Cylinder006
    add(cylinder006_2.part, mode=Mode.SUBTRACT)

    # Cut027: cut Cylinder005
    add(cylinder005_2.part, mode=Mode.SUBTRACT)

    # Cut028: cut Cylinder004
    add(cylinder004_2.part, mode=Mode.SUBTRACT)

    # Cut029: cut Cylinder003
    add(cylinder003_2.part, mode=Mode.SUBTRACT)

    # Cut030: cut Cylinder002
    add(cylinder002_2.part, mode=Mode.SUBTRACT)

    # Cut031: cut Cylinder001
    add(cylinder001_2.part, mode=Mode.SUBTRACT)

    # Cut032: cut Cylinder032
    add(cylinder032_2.part, mode=Mode.SUBTRACT)

    # Cut033: cut Cylinder031
    add(cylinder031_2.part, mode=Mode.SUBTRACT)

    # Cut034: cut Cube003
    add(cube003.part, mode=Mode.SUBTRACT)


with BuildPart() as cube:
    # Box → Box (new body)
    with BuildSketch(Plane(origin=(3, 3, 3), x_dir=(1, 0, 0), z_dir=(0, 0, 1))):
        with Locations((21, 18.5)):
            Rectangle(BOX_W, BOX_H)
    extrude(amount=BOX_DEPTH)


with BuildPart() as cut043:
    # Box001 → Box001 (new body)
    with BuildSketch(Plane.XY):
        with Locations((22.5, 21.5)):
            Rectangle(BOX001_W, BOX001_H)
    extrude(amount=BOX001_DEPTH)

    # Cut: cut Cube
    add(cube.part, mode=Mode.SUBTRACT)

    # Fusion: union Cut034
    add(cut034.part)

    # Cut035: cut Cylinder033
    add(cylinder033_2.part, mode=Mode.SUBTRACT)

    # Cut036: cut Cylinder040
    add(cylinder040_2.part, mode=Mode.SUBTRACT)

    # Cut037: cut Cylinder039
    add(cylinder039_2.part, mode=Mode.SUBTRACT)

    # Cut038: cut Cylinder038
    add(cylinder038_2.part, mode=Mode.SUBTRACT)

    # Cut039: cut Cylinder037
    add(cylinder037_2.part, mode=Mode.SUBTRACT)

    # Cut040: cut Cylinder036
    add(cylinder036_2.part, mode=Mode.SUBTRACT)

    # Cut041: cut Cylinder035
    add(cylinder035_2.part, mode=Mode.SUBTRACT)

    # Cut042: cut Cylinder034
    add(cylinder034_2.part, mode=Mode.SUBTRACT)

    # Cut043: cut Cube004
    add(cube004.part, mode=Mode.SUBTRACT)


solid = cut043.part
